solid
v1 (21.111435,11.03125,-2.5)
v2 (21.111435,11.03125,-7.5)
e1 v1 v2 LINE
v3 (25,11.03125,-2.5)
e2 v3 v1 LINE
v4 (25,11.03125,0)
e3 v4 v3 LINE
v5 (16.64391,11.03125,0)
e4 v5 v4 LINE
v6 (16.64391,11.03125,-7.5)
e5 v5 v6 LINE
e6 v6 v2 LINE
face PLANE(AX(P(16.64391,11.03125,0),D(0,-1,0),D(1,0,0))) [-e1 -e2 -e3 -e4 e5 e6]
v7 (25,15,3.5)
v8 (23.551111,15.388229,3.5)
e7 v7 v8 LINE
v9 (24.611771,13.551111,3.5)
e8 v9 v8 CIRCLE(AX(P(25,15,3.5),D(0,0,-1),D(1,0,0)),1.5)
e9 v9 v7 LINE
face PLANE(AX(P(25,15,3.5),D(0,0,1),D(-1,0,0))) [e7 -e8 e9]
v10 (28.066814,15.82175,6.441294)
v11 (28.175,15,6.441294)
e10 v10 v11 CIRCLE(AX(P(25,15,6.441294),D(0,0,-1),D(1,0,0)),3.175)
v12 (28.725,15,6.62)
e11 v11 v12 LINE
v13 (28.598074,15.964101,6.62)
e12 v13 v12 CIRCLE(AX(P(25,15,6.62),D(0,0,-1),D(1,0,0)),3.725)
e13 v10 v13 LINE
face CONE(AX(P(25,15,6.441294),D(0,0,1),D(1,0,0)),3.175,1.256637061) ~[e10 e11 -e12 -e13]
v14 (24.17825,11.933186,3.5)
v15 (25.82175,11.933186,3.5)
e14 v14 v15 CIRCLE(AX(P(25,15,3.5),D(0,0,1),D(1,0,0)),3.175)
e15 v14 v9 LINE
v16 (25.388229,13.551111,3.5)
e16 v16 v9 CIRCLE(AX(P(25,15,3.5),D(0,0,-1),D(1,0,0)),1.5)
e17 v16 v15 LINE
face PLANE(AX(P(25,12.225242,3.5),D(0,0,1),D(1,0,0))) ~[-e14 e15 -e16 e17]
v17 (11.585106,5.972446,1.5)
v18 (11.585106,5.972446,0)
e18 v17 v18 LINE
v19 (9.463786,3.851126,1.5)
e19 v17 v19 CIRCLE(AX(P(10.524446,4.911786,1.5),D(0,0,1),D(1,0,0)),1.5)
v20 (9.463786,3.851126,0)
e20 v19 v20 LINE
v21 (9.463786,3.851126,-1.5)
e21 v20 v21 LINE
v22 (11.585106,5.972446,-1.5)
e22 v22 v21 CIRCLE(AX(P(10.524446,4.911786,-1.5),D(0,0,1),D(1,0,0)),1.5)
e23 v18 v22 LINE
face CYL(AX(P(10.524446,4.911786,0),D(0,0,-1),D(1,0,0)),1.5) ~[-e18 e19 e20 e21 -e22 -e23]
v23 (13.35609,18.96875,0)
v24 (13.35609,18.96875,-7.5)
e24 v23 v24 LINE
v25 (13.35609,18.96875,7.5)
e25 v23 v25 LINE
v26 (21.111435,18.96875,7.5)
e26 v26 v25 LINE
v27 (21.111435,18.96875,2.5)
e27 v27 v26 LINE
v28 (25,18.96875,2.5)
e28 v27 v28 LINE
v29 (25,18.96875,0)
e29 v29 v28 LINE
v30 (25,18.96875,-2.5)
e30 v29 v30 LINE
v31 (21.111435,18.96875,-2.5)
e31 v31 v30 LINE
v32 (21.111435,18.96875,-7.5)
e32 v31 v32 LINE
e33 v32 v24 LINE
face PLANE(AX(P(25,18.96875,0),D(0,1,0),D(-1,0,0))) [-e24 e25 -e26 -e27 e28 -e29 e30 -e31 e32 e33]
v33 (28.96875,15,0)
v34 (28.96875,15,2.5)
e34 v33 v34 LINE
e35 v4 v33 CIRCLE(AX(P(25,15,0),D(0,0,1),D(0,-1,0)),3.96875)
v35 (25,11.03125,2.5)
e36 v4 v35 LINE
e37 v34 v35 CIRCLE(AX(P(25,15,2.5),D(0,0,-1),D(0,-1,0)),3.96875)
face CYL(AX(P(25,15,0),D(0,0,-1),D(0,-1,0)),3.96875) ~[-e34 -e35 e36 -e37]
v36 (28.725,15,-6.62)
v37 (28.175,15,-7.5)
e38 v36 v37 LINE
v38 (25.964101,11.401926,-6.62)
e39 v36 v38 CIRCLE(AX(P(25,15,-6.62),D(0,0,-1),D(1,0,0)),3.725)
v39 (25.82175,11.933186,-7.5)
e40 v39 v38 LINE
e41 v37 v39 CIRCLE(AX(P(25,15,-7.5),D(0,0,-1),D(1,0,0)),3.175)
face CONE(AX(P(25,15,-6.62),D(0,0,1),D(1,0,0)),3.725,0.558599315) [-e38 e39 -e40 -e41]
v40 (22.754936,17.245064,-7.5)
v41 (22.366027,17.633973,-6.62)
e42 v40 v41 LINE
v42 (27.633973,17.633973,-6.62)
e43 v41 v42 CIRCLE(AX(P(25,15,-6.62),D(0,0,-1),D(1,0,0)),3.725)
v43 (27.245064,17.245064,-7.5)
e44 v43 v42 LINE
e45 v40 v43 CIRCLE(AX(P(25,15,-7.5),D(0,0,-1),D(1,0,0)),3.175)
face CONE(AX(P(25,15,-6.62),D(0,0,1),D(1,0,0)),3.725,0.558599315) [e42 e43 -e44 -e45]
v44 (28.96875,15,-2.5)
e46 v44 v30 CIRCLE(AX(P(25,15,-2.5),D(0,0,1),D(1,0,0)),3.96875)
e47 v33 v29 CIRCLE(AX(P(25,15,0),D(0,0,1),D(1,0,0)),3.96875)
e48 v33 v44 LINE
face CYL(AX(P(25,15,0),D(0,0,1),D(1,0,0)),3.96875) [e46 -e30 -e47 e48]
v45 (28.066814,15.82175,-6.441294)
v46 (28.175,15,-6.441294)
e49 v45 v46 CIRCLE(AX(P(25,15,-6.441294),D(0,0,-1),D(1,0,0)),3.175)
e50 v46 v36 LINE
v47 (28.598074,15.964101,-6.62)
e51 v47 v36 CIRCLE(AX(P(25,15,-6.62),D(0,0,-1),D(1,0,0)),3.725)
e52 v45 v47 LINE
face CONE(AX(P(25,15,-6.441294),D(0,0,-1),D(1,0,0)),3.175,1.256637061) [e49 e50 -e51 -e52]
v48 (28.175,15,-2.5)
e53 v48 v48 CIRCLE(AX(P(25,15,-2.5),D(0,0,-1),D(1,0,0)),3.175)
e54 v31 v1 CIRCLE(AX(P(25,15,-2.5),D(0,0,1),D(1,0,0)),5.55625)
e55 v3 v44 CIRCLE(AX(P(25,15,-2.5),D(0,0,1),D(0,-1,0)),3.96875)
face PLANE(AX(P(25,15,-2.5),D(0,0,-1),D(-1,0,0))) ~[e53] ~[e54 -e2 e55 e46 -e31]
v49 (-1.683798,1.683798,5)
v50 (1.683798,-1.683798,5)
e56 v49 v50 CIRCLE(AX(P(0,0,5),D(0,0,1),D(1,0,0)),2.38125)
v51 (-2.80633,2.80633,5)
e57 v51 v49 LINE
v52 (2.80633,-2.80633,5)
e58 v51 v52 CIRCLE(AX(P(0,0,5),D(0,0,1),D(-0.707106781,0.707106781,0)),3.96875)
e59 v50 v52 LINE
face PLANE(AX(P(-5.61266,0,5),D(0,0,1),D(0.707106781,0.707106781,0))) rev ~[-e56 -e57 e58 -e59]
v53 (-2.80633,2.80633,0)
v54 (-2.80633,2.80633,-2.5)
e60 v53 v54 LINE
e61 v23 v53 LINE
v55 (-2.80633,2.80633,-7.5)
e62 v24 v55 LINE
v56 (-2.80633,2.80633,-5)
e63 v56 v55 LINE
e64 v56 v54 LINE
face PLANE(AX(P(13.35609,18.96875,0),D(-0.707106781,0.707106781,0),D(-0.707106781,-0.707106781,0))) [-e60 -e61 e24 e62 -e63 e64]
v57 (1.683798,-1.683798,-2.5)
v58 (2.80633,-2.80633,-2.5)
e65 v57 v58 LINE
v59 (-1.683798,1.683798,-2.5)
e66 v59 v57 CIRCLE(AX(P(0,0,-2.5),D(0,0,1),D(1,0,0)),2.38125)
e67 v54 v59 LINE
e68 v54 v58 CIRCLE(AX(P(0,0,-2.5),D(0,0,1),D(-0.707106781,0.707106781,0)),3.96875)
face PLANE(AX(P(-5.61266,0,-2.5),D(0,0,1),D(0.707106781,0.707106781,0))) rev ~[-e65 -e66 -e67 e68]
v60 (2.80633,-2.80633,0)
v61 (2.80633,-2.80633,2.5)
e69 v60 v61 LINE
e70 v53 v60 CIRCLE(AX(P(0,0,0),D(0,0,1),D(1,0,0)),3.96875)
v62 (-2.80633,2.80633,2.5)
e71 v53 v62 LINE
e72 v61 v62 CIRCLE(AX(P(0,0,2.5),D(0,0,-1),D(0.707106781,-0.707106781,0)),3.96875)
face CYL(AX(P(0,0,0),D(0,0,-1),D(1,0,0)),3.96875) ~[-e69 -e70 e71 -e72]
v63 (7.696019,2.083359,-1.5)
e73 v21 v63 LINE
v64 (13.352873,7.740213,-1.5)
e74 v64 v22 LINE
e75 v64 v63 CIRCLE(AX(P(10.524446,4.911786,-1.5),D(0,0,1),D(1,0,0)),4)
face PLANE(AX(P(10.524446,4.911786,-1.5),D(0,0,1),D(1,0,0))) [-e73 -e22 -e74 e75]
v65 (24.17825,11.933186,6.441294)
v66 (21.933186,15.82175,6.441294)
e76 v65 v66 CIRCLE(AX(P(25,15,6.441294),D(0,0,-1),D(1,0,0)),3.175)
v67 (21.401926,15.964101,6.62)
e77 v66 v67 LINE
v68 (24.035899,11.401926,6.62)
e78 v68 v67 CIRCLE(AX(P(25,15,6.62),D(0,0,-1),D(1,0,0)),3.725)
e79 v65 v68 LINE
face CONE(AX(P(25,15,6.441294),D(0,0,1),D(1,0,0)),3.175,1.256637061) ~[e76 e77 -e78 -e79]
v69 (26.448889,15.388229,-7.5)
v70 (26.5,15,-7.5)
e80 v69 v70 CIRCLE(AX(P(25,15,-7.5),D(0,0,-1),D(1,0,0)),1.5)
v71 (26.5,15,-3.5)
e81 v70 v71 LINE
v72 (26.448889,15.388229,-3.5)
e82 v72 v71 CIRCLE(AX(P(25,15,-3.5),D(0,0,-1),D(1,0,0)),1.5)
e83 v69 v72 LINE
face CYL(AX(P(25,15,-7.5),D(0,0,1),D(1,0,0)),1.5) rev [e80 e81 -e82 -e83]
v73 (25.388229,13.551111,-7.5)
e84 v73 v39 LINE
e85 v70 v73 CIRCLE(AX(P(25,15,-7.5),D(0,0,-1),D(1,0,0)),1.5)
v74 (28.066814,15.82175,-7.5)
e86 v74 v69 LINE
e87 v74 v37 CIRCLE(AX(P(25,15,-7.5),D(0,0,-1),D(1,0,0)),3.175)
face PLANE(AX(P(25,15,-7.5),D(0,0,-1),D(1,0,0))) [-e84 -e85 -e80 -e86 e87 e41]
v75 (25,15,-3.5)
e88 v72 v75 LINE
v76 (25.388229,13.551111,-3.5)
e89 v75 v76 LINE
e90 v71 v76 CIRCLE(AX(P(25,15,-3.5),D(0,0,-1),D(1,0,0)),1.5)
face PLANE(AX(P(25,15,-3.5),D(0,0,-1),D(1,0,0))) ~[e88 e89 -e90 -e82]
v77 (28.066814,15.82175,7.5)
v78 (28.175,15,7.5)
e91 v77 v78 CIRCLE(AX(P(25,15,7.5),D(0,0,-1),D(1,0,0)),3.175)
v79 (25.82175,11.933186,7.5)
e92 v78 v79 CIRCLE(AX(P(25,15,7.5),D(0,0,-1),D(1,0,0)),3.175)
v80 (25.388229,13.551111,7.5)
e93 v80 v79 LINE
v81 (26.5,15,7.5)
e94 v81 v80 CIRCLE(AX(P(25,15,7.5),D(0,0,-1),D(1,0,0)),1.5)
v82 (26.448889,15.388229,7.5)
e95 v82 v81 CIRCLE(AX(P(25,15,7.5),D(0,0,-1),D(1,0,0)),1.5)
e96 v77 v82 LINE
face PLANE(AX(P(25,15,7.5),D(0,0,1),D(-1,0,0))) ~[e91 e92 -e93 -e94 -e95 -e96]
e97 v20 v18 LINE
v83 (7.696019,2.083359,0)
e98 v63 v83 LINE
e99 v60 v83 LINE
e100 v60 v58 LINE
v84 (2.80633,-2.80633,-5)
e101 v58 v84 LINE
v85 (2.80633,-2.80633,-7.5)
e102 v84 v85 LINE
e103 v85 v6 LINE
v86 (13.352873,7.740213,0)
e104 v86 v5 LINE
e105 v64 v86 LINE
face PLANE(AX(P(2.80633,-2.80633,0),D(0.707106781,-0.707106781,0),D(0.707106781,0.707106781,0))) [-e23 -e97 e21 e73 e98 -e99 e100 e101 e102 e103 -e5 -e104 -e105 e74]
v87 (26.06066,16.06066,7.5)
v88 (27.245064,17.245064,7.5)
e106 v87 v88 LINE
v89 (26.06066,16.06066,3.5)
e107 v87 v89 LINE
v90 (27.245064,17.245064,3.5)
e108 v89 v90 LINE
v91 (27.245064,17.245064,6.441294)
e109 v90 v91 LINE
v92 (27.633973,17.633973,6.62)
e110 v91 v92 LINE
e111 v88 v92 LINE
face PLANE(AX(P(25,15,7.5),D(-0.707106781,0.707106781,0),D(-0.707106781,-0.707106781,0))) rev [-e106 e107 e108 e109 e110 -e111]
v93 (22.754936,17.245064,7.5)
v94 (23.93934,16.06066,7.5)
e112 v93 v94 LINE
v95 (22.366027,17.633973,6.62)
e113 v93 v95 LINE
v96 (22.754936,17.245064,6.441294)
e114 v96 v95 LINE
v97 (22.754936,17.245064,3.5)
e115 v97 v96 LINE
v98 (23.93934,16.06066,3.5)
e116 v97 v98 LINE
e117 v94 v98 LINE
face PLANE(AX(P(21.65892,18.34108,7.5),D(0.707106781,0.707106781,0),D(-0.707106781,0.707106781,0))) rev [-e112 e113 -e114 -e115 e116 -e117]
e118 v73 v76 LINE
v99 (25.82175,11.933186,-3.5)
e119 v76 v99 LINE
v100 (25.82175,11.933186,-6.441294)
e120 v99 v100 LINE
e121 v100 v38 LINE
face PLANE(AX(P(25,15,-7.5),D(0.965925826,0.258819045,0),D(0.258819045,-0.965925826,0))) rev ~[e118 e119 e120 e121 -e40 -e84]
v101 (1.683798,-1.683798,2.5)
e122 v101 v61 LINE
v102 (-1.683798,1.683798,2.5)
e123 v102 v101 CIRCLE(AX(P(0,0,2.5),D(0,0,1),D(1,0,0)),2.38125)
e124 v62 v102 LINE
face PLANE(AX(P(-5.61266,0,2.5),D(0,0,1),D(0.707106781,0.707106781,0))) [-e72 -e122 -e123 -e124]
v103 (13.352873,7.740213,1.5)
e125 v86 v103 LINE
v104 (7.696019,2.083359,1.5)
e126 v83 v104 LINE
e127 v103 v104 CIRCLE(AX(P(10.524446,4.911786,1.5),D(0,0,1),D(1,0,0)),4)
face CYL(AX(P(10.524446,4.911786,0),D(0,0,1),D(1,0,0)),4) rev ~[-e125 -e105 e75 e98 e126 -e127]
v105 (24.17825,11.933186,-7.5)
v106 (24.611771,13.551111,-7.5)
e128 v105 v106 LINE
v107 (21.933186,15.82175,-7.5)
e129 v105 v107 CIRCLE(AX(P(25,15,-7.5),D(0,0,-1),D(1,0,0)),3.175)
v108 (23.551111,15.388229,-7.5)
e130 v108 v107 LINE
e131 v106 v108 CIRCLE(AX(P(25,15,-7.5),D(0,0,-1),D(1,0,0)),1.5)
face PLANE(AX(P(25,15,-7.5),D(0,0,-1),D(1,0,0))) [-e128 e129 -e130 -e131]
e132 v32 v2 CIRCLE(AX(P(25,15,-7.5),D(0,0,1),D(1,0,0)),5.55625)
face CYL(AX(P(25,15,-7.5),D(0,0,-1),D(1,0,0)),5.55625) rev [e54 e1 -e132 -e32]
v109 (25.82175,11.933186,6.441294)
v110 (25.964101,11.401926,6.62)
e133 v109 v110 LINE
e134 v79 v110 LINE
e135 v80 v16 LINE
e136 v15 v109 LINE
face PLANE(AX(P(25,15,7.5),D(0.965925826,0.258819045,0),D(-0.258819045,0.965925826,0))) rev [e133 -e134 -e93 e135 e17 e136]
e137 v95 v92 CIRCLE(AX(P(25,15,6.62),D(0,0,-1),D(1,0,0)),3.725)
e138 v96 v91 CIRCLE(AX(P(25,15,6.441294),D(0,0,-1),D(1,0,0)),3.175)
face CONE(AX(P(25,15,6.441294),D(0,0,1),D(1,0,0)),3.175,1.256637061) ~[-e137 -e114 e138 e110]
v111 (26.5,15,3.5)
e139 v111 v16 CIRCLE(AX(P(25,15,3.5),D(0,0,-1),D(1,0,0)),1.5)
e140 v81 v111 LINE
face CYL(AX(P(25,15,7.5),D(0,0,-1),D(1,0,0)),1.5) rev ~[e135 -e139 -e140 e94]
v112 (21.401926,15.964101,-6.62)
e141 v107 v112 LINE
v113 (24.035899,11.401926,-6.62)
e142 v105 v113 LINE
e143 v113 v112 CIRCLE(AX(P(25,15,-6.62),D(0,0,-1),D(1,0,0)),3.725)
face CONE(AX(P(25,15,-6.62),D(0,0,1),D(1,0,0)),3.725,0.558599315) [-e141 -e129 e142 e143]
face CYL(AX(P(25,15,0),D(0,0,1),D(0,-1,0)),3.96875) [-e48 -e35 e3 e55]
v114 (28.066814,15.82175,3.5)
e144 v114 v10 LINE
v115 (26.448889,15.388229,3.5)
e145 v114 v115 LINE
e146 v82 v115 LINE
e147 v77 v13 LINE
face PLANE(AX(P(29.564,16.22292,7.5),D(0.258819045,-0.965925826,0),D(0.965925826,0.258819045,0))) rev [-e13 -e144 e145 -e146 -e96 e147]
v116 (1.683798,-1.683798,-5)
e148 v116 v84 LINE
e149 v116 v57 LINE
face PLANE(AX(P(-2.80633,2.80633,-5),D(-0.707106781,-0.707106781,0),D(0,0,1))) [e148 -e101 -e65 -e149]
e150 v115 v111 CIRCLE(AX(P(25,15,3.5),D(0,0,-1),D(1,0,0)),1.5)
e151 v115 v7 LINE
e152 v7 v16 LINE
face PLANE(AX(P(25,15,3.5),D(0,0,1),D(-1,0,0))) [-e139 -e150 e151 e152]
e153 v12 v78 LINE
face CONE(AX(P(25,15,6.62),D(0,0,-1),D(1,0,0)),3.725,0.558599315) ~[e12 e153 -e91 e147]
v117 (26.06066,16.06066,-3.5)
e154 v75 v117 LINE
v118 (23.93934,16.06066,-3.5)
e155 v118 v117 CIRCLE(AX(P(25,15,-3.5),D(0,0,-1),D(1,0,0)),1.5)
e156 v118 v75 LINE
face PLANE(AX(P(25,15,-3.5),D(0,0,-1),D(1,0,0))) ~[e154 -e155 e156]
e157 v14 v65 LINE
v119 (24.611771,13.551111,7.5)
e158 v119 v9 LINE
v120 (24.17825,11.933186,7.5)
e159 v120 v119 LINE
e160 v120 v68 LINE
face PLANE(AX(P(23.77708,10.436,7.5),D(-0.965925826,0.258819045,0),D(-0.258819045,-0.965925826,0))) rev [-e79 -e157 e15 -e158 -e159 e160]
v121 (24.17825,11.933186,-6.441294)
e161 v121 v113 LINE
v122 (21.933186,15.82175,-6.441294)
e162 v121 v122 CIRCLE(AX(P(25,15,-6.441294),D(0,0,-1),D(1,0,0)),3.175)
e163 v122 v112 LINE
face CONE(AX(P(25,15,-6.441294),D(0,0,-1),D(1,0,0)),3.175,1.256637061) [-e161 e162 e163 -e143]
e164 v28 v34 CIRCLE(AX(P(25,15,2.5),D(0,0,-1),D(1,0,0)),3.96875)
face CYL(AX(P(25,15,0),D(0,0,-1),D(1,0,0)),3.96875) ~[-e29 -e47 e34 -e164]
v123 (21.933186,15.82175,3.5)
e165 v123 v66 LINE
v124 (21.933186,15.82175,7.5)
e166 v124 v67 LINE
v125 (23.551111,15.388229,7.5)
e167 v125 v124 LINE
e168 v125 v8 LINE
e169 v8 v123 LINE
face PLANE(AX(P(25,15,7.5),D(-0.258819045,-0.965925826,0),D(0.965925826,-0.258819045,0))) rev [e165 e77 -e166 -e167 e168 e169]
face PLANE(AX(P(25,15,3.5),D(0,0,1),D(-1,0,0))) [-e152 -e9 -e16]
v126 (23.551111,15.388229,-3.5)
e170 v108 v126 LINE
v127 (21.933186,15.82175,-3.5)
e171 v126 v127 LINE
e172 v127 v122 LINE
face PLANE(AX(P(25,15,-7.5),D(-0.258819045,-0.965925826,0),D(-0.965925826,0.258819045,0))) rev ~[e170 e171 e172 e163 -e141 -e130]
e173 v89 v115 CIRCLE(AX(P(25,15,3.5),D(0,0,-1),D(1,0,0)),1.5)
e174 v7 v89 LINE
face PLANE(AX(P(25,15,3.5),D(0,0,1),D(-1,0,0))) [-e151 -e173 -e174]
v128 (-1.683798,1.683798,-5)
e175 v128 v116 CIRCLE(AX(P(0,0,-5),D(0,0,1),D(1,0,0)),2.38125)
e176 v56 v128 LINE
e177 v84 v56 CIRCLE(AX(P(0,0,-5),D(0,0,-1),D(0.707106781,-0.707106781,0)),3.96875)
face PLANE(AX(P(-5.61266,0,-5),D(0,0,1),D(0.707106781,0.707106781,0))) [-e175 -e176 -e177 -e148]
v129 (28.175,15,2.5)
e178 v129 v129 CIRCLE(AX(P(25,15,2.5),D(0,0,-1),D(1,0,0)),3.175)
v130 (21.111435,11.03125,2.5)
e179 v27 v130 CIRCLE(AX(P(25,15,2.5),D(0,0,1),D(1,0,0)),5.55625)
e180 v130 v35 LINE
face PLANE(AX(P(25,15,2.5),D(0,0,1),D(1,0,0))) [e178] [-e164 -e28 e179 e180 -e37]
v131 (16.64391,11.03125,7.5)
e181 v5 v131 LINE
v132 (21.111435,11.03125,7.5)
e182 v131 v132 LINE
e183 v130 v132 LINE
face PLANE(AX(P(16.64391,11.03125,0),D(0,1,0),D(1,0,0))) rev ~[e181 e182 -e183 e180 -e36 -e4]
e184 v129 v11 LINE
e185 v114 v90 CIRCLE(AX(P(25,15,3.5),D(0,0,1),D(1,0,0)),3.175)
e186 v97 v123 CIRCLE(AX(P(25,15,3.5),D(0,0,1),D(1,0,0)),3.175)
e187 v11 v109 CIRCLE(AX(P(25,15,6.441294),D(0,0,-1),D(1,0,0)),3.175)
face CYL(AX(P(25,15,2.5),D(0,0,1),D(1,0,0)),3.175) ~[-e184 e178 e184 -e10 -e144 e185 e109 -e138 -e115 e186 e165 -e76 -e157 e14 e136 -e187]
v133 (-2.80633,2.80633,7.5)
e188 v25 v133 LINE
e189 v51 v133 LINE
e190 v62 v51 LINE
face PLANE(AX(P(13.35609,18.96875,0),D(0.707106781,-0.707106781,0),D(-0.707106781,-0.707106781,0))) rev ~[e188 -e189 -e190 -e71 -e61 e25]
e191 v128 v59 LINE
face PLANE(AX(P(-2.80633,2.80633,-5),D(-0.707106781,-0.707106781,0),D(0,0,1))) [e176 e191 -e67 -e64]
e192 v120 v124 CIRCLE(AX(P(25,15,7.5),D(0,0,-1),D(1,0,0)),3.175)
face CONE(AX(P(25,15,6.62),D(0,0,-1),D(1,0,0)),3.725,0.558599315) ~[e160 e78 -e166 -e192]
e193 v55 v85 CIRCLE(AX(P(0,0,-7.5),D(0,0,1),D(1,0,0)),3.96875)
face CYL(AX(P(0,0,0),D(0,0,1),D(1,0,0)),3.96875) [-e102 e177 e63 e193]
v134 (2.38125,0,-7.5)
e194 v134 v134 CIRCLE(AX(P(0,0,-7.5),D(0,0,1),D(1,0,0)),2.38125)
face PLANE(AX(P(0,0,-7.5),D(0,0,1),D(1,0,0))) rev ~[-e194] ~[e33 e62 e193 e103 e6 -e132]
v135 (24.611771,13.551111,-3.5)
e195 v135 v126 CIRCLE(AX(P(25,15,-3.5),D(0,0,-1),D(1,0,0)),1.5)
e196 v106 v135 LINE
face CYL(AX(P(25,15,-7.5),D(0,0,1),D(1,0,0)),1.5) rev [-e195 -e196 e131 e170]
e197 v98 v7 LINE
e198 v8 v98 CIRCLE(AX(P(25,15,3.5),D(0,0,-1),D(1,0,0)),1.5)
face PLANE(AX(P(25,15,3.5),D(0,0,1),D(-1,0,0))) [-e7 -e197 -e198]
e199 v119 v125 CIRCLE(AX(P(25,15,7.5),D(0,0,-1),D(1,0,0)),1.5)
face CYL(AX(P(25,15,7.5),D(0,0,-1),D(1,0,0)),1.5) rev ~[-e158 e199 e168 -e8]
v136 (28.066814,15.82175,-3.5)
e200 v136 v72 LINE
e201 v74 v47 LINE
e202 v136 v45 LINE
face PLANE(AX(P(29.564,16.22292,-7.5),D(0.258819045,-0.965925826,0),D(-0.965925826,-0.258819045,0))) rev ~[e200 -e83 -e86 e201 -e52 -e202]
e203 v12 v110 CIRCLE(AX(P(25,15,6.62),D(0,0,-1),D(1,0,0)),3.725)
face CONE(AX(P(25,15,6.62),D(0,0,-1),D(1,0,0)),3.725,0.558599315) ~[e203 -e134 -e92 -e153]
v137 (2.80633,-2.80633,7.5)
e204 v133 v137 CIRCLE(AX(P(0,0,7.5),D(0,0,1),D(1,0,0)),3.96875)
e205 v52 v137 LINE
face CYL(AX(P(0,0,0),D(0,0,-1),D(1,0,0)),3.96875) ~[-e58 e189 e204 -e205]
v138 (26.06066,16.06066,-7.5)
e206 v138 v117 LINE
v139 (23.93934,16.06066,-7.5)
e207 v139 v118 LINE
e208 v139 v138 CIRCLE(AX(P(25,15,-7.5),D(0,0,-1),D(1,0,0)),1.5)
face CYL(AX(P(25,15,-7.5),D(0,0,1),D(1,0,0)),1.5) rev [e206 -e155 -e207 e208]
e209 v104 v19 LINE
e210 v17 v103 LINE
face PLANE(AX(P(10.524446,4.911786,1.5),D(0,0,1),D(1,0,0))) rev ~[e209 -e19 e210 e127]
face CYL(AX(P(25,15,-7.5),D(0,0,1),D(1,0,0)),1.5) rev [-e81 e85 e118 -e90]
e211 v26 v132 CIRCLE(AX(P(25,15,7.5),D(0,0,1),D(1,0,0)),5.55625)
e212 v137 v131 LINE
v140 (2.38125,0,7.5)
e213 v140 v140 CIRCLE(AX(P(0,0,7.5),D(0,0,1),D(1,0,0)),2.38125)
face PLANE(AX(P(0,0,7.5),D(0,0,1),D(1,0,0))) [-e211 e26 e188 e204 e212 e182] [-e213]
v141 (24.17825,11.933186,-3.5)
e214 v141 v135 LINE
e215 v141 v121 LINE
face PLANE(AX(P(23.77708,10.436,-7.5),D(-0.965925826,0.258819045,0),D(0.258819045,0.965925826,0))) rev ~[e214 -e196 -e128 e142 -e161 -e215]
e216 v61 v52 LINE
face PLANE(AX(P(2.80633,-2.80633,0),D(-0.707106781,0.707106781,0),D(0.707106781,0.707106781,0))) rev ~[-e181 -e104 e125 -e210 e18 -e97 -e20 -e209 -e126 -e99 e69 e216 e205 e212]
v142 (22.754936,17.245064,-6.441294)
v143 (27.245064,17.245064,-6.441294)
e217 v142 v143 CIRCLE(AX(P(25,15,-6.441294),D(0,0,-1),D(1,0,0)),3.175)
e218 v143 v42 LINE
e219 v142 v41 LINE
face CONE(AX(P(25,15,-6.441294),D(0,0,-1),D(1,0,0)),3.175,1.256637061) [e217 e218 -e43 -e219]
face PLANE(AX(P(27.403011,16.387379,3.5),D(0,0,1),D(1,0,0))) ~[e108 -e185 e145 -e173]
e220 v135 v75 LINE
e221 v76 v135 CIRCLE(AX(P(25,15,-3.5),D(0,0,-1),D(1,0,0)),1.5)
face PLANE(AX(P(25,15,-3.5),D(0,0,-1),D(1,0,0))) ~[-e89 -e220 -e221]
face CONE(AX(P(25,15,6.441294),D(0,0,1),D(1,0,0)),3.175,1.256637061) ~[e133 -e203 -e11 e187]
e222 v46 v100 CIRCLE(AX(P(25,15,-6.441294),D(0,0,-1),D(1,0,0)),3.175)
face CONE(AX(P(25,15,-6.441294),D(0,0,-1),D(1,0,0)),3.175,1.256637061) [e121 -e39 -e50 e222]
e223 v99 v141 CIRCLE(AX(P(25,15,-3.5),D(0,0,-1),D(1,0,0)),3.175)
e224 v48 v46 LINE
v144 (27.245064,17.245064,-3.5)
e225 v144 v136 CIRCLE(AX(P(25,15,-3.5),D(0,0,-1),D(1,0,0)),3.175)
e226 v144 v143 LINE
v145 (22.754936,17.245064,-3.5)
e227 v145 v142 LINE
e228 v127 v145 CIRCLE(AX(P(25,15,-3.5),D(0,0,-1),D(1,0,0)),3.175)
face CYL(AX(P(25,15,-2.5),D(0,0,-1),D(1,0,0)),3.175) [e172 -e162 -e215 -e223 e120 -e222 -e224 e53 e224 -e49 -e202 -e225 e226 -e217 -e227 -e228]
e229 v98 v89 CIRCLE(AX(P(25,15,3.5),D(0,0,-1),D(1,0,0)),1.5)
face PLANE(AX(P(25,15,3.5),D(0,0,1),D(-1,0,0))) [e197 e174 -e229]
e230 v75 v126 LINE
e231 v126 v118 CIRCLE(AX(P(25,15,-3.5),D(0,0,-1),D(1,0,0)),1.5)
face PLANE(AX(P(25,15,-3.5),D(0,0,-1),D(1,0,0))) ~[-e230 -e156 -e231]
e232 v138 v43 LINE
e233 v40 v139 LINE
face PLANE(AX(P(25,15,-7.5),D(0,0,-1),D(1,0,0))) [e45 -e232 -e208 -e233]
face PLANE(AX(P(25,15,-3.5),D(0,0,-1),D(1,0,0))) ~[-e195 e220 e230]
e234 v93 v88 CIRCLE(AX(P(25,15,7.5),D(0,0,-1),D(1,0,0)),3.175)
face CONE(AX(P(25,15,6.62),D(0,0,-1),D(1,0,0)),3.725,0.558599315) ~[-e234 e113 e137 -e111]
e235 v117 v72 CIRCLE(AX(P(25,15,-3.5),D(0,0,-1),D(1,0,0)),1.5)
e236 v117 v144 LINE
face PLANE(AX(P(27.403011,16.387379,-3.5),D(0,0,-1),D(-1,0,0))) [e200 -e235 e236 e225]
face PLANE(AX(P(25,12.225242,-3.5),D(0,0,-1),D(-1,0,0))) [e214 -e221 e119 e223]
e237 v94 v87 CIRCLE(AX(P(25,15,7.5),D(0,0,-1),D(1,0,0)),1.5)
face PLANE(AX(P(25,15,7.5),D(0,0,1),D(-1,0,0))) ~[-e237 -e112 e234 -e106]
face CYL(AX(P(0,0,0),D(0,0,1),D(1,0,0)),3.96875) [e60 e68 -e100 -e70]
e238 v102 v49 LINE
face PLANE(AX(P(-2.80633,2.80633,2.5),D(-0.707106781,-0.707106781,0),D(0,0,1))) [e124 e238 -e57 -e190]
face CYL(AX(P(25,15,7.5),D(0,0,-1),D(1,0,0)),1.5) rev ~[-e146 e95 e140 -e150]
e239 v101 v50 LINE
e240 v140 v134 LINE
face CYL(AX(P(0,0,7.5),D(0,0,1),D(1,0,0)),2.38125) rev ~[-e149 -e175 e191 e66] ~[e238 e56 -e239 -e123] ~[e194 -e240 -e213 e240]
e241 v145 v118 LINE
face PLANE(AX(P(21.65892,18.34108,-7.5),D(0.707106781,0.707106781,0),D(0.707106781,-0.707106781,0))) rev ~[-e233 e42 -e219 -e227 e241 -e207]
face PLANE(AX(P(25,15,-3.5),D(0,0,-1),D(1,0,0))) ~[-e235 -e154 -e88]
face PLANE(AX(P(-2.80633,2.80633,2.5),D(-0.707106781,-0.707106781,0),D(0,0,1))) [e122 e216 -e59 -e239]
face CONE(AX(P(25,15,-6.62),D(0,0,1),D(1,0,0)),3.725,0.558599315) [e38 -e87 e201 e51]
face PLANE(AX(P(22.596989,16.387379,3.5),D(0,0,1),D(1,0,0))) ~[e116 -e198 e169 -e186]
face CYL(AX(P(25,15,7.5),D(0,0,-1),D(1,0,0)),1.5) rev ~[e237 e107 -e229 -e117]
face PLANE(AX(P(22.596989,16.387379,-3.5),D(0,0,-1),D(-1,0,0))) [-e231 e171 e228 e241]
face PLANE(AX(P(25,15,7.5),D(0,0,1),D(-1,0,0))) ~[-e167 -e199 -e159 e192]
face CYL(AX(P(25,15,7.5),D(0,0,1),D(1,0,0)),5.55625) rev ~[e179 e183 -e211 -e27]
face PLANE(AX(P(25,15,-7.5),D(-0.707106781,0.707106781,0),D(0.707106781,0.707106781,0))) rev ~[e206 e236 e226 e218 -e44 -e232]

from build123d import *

# Parameters (mm, degrees)
CROQUIS1_R              = 3.96875
SALIENTE_EXTRUIR1_DEPTH = 7.5
CROQUIS2_W              = 2.5
CROQUIS2_H              = 3.96875
CORTAR_EXTRUIR1_DEPTH   = 15
CROQUIS4_R              = 2.38125
CORTAR_EXTRUIR2_DEPTH   = 15
CROQUIS5_R              = 5.55625
CORTAR_EXTRUIR3_DEPTH   = 5
CROQUIS8_W              = 1
CROQUIS8_H              = 1.5
CORTAR_EXTRUIR6_DEPTH   = 4
CROQUIS10_R             = 4
CROQUIS10_R_2           = 1.5
CORTAR_EXTRUIR7_DEPTH   = 1.5


with BuildPart() as part:
    # Croquis1 → Saliente-Extruir1 (new, symmetric)
    with BuildSketch(Plane.XY):
        Circle(CROQUIS1_R)
        with BuildLine():
            Line((13.356089924, 18.96875), (-2.806330038, 2.806330038))
            ThreePointArc((-2.806330038, 2.806330038), (1.518774872, 3.666646895), (3.96875, 0))
            ThreePointArc((3.96875, 0), (3.666646895, -1.518774872), (2.806330038, -2.806330038))
            Line((2.806330038, -2.806330038), (16.643910076, 11.03125))
            Line((16.643910076, 11.03125), (25, 11.03125))
            ThreePointArc((25, 11.03125), (21.03125, 15), (25, 18.96875))
            Line((25, 18.96875), (13.356089924, 18.96875))
        make_face()
        with BuildLine():
            ThreePointArc((28.96875, 15), (27.806330038, 17.806330038), (25, 18.96875))
            Line((25, 18.96875), (25, 11.03125))
            ThreePointArc((25, 11.03125), (27.806330038, 12.193669962), (28.96875, 15))
        make_face()
        with BuildLine():
            Line((25, 11.03125), (25, 18.96875))
            ThreePointArc((25, 18.96875), (21.03125, 15), (25, 11.03125))
        make_face()
        with BuildLine():
            ThreePointArc((28.96875, 15), (27.806330038, 17.806330038), (25, 18.96875))
            Line((25, 18.96875), (25, 11.03125))
            ThreePointArc((25, 11.03125), (27.806330038, 12.193669962), (28.96875, 15))
        make_face()
        with BuildLine():
            Line((25, 11.03125), (25, 18.96875))
            ThreePointArc((25, 18.96875), (21.03125, 15), (25, 11.03125))
        make_face()
    extrude(amount=SALIENTE_EXTRUIR1_DEPTH, both=True)

    # Croquis2 → Cortar-Extruir1 (cut)
    with BuildSketch(Plane(origin=(-2.806330038, 2.806330038, 0), x_dir=(0, 0, 1), z_dir=(-0.7071067811865441, 0.7071067811865509, 0))):
        with Locations((-3.75, -1.984375)):
            Rectangle(CROQUIS2_W, CROQUIS2_H)
        with Locations((3.75, -1.984375)):
            Rectangle(CROQUIS2_W, CROQUIS2_H)
    extrude(amount=-CORTAR_EXTRUIR1_DEPTH, mode=Mode.SUBTRACT)

    # Croquis4 → Cortar-Extruir2 (cut)
    with BuildSketch(Plane.XY.offset(7.5)):
        Circle(CROQUIS4_R)
    extrude(amount=-CORTAR_EXTRUIR2_DEPTH, mode=Mode.SUBTRACT)

    # Croquis5 → Cortar-Extruir3 (cut)
    with BuildSketch(Plane.XY.offset(7.5)):
        with Locations((25, 15)):
            Circle(CROQUIS5_R)
    cortar_extruir3 = extrude(amount=-CORTAR_EXTRUIR3_DEPTH, mode=Mode.SUBTRACT)

    # Simetría1: Cortar-Extruir3 across plane
    add(cortar_extruir3.mirror(Plane.XY), mode=Mode.SUBTRACT)

    # Croquis8 → Revolución1 (revolve)
    with BuildSketch(Plane(origin=(25, 0, 0), x_dir=(0, 0, -1), z_dir=(1, 0, 0)), mode=Mode.PRIVATE) as revoluci_n1_sk:
        Polygon((7.5, 18.175), (7.5, 16.5), (2.5, 16.5), (2.5, 18.175), (6.441294167, 18.175), (6.62, 18.725), align=None)
        with Locations((3, 15.75)):
            Rectangle(CROQUIS8_W, CROQUIS8_H)
    revoluci_n1 = revolve(revoluci_n1_sk.sketch.rotate(Axis((25, 15, -2.5), (0, 0, -1)), 90), axis=Axis((25, 15, -2.5), (0, 0, -1)))

    # Croquis9 → Cortar-Extruir6 (cut)
    with BuildSketch(Plane(origin=(0, 0, -7.5), x_dir=(-1, 0, 0), z_dir=(0, 0, -1))):
        with BuildLine():
            Line((-23.777080012, 10.436000471), (-25, 15))
            Line((-25, 15), (-26.222919988, 10.436000471))
            ThreePointArc((-26.222919988, 10.436000471), (-25, 10.275), (-23.777080012, 10.436000471))
        make_face()
        with BuildLine():
            Line((-29.563999529, 16.222919988), (-25, 15))
            Line((-25, 15), (-28.341079541, 18.341079541))
            ThreePointArc((-28.341079541, 18.341079541), (-29.091970033, 17.3625), (-29.563999529, 16.222919988))
        make_face()
        with BuildLine():
            Line((-21.658920459, 18.341079541), (-25, 15))
            Line((-25, 15), (-20.436000471, 16.222919988))
            ThreePointArc((-20.436000471, 16.222919988), (-20.908029967, 17.3625), (-21.658920459, 18.341079541))
        make_face()
    cortar_extruir6 = extrude(amount=-CORTAR_EXTRUIR6_DEPTH, mode=Mode.SUBTRACT)

    # Simetría2: Revolución1, Cortar-Extruir6 across plane
    add(revoluci_n1.mirror(Plane.XY))
    add(cortar_extruir6.mirror(Plane.XY), mode=Mode.SUBTRACT)

    # Croquis10 → Cortar-Extruir7 (cut, symmetric)
    with BuildSketch(Plane.XY):
        with Locations((10.52444577, 4.911785694)):
            Circle(CROQUIS10_R)
        with Locations((10.52444577, 4.911785694)):
            Circle(CROQUIS10_R_2, mode=Mode.SUBTRACT)
    extrude(amount=CORTAR_EXTRUIR7_DEPTH, both=True, mode=Mode.SUBTRACT)


solid = part.part
